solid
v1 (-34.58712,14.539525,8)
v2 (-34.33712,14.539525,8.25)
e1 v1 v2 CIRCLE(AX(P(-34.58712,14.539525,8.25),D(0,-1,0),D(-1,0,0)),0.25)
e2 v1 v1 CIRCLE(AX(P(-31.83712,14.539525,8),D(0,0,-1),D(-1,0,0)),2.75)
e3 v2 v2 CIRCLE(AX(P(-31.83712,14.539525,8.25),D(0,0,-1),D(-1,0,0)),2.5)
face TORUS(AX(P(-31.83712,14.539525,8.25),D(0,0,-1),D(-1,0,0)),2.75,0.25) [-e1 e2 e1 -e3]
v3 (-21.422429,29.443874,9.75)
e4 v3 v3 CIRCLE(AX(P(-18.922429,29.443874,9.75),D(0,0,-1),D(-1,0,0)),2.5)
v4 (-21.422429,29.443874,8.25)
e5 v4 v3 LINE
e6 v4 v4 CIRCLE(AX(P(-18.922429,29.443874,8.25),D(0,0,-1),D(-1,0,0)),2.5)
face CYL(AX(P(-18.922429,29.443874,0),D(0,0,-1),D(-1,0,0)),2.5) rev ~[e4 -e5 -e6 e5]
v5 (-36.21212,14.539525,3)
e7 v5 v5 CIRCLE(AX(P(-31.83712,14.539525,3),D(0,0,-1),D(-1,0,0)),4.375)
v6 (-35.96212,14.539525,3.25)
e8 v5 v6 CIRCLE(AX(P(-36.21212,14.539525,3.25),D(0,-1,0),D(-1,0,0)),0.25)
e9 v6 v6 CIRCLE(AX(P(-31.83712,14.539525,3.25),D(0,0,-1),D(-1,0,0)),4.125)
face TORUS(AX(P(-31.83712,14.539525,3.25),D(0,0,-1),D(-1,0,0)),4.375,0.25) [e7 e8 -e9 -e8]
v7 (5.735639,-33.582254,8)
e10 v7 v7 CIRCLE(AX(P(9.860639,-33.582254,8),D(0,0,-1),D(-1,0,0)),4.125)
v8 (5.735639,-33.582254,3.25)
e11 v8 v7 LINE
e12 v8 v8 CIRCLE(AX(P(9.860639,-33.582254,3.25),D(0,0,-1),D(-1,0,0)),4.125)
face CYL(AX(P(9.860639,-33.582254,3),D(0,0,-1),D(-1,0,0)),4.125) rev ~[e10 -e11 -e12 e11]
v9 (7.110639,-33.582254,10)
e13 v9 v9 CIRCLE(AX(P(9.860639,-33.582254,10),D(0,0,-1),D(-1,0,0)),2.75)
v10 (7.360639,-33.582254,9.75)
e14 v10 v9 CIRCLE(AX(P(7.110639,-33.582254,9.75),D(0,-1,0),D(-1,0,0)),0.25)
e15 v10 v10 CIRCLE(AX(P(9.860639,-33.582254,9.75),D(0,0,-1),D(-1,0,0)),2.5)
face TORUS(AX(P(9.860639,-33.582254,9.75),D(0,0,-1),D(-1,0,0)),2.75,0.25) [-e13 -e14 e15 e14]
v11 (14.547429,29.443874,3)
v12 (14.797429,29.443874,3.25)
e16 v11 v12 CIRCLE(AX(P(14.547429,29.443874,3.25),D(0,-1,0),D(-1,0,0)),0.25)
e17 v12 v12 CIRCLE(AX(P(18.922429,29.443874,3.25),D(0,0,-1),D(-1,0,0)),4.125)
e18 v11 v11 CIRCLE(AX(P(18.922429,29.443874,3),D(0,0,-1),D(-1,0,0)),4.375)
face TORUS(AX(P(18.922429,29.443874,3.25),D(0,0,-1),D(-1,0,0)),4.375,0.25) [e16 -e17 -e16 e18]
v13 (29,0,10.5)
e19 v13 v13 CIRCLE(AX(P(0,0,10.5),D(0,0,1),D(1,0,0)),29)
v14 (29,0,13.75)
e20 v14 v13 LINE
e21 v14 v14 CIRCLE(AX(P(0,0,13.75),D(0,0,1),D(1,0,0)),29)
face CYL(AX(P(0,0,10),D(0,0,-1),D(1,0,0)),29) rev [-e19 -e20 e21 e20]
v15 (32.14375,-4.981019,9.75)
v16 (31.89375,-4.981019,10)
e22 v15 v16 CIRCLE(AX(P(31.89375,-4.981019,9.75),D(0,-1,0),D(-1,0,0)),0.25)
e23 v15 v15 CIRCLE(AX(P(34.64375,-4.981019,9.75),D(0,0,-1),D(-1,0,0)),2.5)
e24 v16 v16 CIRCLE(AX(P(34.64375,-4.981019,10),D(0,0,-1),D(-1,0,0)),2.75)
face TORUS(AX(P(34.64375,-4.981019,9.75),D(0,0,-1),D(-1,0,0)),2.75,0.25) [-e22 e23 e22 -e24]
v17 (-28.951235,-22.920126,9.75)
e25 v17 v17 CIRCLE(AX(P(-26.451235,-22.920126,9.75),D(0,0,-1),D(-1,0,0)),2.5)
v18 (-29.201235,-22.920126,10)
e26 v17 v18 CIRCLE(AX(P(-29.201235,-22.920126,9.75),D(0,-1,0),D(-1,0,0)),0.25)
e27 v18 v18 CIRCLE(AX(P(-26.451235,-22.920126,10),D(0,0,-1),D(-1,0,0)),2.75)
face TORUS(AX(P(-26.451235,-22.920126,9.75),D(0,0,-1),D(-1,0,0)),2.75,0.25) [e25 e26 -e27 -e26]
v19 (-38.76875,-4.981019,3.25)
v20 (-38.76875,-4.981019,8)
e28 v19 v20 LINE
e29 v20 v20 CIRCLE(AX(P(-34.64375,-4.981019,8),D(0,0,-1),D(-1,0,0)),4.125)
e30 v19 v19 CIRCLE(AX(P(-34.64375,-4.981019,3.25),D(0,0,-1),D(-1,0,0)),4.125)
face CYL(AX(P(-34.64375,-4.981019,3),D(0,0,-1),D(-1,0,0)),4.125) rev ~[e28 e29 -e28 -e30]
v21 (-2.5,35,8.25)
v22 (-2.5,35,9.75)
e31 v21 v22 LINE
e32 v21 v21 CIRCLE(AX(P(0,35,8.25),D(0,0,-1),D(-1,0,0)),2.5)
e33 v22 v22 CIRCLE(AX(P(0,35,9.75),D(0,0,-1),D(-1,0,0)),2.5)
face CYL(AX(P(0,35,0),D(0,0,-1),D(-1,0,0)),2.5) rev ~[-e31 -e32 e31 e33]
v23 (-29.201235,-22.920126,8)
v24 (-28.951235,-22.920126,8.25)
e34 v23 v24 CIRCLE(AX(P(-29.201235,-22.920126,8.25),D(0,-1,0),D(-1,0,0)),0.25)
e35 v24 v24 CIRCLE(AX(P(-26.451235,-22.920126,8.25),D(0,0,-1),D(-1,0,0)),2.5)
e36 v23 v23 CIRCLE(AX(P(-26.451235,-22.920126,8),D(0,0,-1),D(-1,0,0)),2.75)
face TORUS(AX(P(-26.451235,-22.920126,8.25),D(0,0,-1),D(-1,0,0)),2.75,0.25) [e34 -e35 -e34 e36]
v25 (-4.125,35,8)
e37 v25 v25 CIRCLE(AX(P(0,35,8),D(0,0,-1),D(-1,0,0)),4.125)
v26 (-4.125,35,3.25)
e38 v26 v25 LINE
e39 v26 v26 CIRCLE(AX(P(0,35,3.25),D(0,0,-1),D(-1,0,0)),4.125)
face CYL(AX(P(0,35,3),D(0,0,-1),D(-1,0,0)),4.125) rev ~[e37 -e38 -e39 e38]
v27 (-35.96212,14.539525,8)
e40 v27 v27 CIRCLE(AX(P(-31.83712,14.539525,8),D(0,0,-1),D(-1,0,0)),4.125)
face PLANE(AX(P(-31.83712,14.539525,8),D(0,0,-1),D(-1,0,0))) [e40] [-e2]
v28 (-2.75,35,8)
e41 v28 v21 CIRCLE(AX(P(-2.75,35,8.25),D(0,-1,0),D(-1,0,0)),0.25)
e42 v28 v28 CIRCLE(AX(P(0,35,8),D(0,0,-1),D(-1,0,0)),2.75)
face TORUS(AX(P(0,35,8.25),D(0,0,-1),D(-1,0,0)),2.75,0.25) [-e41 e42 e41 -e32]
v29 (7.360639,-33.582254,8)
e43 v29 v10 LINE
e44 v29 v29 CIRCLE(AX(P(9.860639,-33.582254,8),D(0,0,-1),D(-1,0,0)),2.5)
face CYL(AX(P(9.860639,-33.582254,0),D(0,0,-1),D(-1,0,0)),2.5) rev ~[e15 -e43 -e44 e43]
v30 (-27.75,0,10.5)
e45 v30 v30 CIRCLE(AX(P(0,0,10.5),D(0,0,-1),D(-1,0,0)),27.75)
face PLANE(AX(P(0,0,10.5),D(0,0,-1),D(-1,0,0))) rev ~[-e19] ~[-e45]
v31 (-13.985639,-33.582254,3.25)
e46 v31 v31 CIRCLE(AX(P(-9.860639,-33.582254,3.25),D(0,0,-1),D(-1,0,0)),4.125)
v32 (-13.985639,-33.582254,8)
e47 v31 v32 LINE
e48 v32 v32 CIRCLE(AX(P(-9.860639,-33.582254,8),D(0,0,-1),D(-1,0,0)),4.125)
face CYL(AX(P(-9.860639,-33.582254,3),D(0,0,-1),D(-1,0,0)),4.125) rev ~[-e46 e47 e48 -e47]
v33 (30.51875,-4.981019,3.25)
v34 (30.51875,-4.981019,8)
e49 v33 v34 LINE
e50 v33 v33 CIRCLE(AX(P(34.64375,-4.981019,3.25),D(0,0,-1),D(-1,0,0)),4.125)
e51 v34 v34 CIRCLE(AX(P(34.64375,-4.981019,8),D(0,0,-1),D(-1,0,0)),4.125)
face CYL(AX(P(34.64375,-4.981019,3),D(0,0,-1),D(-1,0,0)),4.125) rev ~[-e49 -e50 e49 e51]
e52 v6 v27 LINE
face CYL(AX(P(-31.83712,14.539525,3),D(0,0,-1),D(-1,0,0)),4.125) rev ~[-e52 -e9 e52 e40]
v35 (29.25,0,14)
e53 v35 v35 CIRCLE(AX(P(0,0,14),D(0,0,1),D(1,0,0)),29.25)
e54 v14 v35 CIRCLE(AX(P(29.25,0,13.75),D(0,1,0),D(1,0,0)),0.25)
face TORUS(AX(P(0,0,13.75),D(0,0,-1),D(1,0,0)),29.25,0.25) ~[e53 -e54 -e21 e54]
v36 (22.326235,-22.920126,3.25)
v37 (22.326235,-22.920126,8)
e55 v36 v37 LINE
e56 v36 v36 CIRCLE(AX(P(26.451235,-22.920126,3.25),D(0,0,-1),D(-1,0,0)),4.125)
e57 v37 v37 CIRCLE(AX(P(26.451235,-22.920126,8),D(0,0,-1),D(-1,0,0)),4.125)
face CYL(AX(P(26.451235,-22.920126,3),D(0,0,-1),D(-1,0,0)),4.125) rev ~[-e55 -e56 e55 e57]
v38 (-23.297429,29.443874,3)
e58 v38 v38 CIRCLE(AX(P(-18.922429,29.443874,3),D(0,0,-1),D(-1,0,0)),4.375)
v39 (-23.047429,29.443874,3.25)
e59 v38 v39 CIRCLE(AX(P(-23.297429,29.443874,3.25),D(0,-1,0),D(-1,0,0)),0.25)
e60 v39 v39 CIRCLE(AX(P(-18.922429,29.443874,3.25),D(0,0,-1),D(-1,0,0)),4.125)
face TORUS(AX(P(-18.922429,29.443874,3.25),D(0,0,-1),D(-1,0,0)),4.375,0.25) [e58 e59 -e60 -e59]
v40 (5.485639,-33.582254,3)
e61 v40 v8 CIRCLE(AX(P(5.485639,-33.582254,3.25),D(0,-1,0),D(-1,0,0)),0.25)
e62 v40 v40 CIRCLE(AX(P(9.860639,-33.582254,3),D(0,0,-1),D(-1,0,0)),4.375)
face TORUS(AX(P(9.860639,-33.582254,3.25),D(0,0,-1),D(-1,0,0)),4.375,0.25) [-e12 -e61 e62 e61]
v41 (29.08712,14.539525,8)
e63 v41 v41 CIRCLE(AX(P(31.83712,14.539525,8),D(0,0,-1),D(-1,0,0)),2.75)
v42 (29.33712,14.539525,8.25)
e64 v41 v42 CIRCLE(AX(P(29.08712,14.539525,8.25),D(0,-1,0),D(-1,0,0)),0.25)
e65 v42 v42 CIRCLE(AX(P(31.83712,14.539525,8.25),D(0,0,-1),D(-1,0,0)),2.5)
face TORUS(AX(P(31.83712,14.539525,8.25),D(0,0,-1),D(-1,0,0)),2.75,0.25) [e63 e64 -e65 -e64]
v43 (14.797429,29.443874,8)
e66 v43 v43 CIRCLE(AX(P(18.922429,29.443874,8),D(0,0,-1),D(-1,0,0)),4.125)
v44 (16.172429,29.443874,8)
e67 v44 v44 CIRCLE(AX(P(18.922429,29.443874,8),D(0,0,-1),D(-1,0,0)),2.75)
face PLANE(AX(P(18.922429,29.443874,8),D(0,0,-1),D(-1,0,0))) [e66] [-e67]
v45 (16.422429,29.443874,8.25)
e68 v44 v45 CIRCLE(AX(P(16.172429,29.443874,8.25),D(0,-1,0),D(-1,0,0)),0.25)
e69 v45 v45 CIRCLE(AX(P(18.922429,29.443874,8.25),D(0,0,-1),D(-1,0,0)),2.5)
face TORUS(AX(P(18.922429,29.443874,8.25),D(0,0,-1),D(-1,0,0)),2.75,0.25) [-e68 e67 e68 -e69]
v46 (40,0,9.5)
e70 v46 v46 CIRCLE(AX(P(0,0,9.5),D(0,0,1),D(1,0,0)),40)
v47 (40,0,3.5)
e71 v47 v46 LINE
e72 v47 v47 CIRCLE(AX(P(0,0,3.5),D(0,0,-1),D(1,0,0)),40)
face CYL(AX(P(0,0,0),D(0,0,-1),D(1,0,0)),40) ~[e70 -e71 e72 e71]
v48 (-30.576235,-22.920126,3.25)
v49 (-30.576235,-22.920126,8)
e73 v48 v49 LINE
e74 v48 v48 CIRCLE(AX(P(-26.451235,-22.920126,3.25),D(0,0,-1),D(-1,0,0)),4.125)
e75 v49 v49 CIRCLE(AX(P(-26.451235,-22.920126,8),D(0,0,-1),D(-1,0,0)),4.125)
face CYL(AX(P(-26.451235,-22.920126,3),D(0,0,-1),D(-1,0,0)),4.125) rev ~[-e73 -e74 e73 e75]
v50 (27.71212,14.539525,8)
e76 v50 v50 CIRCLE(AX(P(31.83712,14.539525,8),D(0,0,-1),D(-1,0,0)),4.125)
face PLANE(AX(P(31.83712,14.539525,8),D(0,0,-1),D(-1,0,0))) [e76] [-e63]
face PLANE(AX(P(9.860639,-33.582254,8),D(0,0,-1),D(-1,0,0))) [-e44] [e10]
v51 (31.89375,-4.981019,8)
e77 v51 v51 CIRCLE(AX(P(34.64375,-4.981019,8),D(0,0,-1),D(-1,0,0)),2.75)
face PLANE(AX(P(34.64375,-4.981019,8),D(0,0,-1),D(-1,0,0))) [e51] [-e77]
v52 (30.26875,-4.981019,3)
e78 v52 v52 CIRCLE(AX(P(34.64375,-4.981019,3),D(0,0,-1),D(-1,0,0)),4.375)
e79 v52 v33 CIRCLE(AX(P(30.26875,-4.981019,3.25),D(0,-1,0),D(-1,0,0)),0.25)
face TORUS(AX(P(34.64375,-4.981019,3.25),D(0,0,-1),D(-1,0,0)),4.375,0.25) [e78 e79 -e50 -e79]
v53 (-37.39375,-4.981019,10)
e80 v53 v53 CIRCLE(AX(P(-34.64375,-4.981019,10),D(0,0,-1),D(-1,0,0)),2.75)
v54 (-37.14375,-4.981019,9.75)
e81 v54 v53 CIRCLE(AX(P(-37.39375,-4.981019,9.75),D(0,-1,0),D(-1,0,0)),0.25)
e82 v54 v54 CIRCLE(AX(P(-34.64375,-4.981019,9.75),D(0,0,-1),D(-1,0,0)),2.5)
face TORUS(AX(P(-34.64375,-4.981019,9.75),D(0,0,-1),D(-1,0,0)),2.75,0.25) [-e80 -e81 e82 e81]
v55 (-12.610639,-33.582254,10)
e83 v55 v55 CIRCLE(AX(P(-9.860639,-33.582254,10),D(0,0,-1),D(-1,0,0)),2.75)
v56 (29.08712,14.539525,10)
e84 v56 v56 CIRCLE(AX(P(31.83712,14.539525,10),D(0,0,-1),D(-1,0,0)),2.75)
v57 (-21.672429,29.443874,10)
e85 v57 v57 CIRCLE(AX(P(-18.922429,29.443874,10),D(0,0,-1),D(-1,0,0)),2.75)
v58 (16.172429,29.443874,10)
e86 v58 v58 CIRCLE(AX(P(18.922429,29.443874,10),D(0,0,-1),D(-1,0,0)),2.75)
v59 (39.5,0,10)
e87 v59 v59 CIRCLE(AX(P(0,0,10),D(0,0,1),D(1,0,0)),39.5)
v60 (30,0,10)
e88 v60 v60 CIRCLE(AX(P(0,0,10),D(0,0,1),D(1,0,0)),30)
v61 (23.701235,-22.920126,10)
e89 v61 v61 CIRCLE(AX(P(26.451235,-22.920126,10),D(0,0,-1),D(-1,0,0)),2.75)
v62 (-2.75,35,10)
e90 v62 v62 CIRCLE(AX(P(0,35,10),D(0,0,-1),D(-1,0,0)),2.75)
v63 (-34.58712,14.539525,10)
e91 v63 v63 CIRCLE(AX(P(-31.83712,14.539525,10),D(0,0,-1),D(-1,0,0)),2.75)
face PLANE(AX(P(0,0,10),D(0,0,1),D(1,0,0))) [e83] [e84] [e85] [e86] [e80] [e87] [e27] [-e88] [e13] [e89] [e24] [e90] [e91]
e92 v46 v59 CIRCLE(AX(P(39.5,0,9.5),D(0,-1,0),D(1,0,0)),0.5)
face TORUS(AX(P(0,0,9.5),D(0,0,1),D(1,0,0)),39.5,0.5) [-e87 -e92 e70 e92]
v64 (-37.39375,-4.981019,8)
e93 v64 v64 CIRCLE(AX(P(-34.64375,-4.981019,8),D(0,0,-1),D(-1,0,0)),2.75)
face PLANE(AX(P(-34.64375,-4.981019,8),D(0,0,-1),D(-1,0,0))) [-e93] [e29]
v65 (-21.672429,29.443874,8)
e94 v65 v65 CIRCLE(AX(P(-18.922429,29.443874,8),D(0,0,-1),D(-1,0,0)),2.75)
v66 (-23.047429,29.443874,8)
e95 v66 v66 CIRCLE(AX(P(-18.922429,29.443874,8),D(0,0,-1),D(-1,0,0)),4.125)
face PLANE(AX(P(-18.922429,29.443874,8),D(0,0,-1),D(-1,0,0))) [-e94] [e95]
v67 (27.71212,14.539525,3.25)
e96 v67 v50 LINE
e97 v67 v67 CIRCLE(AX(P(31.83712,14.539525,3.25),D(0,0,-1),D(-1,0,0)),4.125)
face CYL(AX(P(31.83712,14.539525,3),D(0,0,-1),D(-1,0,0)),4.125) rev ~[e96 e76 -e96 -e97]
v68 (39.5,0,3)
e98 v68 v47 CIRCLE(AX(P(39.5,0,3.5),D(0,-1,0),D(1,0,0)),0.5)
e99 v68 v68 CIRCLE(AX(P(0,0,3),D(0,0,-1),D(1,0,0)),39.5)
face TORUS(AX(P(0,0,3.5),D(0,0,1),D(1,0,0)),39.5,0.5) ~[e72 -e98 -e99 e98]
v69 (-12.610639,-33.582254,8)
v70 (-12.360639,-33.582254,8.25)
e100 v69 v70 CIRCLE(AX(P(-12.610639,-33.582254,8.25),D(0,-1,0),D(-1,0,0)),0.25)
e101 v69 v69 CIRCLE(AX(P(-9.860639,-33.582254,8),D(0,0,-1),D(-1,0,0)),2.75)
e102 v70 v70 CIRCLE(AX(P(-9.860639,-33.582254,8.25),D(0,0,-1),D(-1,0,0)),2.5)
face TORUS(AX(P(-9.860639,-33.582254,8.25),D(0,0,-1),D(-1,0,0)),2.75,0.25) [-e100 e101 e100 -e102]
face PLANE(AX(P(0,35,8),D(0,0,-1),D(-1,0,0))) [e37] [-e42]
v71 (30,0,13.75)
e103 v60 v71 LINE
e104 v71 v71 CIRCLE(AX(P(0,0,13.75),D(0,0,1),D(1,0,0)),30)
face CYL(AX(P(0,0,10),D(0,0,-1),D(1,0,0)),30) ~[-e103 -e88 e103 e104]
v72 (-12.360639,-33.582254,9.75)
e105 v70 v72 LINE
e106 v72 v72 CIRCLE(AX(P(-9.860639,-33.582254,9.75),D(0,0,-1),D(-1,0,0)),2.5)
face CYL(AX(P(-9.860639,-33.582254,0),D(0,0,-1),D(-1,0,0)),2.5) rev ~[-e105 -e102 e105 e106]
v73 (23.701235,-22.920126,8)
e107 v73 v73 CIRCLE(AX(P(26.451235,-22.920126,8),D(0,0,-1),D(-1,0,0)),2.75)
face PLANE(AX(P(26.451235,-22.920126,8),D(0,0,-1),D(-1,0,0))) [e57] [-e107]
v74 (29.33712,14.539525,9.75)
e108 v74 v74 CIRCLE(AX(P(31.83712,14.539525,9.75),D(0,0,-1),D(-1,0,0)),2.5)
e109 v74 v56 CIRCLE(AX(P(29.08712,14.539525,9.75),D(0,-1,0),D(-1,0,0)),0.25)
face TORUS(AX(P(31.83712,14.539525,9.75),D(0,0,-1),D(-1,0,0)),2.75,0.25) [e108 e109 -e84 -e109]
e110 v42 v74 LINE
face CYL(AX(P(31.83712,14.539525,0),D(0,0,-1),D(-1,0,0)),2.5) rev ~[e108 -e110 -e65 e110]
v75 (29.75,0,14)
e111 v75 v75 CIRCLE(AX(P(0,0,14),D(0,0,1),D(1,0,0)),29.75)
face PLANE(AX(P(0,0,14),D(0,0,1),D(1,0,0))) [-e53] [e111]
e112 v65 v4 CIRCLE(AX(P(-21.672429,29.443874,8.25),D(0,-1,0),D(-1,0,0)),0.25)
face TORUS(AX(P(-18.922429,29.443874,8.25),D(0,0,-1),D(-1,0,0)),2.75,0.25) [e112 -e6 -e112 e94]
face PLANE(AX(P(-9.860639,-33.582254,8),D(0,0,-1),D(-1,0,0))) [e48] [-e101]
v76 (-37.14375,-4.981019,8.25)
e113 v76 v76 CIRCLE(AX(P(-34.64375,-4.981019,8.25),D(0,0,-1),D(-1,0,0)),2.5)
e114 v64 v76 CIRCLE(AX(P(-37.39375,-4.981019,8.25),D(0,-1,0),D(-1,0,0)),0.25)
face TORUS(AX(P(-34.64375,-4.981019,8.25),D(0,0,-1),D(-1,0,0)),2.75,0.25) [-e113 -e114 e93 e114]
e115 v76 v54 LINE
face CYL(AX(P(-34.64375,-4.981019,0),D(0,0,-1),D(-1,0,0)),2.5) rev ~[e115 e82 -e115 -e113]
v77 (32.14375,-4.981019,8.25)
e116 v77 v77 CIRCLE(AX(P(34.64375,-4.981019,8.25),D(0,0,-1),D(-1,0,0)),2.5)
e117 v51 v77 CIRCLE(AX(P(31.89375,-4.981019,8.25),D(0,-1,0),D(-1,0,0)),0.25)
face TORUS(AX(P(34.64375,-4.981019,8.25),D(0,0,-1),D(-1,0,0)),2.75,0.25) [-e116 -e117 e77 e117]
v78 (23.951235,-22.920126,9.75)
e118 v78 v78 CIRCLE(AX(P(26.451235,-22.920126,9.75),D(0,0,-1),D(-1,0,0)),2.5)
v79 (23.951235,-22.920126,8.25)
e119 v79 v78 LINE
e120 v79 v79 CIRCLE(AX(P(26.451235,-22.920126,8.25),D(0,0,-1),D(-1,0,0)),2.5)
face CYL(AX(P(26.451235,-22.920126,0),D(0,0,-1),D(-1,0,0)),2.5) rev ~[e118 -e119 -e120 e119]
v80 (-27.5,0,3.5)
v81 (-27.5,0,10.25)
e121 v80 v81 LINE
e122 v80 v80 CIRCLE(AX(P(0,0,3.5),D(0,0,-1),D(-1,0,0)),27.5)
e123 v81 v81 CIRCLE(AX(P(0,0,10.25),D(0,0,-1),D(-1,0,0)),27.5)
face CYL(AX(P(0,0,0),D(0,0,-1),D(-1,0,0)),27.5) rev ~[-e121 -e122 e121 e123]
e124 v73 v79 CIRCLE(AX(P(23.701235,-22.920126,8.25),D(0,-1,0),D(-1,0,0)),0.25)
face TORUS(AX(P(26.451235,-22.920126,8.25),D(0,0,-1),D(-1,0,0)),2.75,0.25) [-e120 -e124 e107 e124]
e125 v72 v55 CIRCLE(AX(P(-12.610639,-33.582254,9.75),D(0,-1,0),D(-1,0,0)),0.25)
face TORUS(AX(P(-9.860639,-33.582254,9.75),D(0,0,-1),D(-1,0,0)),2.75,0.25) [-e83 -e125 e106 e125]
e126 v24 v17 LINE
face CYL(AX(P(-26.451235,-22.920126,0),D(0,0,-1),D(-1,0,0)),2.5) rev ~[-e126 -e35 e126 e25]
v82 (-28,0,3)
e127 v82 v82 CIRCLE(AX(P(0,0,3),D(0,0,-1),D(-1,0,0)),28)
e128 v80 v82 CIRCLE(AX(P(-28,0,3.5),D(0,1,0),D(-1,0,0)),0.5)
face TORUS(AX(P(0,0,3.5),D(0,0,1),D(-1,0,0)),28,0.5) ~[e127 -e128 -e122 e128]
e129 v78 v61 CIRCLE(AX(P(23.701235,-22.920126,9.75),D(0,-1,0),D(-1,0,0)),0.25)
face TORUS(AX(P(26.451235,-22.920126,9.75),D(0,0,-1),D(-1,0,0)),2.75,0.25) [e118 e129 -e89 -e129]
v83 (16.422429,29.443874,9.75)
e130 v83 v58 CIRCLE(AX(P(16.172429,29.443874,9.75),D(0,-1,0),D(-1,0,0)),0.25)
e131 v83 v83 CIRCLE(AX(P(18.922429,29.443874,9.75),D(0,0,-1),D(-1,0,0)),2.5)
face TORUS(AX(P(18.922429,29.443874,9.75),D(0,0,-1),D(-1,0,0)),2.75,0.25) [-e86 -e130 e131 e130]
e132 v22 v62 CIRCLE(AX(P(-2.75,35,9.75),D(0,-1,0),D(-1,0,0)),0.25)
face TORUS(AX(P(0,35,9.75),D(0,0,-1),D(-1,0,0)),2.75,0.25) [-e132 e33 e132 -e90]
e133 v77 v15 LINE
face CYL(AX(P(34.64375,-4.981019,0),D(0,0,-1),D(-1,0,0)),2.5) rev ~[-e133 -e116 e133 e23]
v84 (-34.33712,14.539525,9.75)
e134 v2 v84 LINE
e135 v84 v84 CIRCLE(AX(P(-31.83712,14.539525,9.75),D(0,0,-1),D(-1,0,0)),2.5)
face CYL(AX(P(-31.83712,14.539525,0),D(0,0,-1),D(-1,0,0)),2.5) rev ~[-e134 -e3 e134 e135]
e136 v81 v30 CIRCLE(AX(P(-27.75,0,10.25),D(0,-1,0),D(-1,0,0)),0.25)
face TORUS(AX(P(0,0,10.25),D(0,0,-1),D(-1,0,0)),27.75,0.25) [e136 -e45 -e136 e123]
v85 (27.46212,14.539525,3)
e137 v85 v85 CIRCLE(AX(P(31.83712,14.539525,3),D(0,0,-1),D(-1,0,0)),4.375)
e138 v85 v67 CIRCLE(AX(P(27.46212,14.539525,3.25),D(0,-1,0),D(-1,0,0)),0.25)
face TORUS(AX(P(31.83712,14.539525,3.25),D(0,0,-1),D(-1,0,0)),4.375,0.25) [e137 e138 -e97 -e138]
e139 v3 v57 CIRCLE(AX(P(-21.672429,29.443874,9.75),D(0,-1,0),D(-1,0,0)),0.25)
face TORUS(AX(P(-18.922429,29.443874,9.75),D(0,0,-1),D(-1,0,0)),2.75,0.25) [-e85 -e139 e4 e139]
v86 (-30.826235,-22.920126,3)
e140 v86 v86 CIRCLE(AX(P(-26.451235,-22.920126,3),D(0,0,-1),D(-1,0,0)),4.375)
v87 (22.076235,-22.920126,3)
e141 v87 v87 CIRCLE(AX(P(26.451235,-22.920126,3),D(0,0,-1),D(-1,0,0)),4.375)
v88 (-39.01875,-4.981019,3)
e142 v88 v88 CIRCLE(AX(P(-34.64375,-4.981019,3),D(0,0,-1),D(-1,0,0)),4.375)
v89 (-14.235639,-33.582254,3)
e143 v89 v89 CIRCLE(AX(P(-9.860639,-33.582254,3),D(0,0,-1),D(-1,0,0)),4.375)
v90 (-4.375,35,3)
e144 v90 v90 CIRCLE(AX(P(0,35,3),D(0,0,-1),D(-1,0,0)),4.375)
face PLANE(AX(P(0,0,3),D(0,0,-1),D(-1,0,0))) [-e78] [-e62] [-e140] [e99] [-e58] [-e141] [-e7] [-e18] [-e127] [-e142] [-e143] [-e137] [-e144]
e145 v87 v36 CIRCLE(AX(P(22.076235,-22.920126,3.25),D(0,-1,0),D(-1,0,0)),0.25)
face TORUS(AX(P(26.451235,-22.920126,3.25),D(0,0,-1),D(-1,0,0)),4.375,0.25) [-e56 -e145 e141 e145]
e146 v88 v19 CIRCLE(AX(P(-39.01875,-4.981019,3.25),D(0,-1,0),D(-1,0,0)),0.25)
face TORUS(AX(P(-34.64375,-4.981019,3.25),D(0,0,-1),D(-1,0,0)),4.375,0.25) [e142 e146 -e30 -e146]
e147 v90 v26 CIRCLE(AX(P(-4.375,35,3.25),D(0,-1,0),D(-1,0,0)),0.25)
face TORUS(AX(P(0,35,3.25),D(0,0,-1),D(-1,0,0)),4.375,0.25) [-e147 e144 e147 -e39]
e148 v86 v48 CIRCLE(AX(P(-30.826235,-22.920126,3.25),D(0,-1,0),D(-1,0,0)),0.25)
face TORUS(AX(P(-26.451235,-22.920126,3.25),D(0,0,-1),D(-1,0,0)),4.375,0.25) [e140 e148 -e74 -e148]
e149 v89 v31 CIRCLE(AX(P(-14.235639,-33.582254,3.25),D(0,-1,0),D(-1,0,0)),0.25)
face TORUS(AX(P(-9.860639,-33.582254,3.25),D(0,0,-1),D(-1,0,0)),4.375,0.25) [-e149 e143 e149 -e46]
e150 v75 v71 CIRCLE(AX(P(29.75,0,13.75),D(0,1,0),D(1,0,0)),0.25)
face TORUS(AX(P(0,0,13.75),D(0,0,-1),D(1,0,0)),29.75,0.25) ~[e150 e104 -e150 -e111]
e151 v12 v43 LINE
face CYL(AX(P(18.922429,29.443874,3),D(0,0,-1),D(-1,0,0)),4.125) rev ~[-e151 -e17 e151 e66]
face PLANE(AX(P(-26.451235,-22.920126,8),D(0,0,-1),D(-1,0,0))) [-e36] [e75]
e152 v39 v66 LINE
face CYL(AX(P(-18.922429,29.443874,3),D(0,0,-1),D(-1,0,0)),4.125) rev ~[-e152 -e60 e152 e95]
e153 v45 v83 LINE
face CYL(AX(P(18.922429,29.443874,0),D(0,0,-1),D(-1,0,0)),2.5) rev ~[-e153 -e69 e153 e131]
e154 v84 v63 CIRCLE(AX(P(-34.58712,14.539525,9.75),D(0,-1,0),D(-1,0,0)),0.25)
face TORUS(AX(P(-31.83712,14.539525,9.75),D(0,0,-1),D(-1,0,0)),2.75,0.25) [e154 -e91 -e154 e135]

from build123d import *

# Parameters (mm, degrees)
SKETCH1_R           = 40
SKETCH1_R_2         = 29
BOSS_EXTRUDE1_DEPTH = 10
SKETCH2_R           = 30
SKETCH2_R_2         = 29
BOSS_EXTRUDE2_DEPTH = 4
SKETCH3_R           = 29
SKETCH3_R_2         = 27.5
BOSS_EXTRUDE3_DEPTH = 10.5
SKETCH4_R           = 2.5
CUT_EXTRUDE1_DEPTH  = 15
SKETCH5_R           = 40
SKETCH5_R_2         = 27.5
CUT_EXTRUDE2_DEPTH  = 3
SKETCH6_R           = 4.125
CUT_EXTRUDE3_DEPTH  = 5
FILLET1_R           = 0.5
FILLET2_R           = 0.25


with BuildPart() as part:
    # Sketch1 → Boss-Extrude1 (new body)
    with BuildSketch(Plane.XY):
        Circle(SKETCH1_R)
        Circle(SKETCH1_R_2, mode=Mode.SUBTRACT)
    extrude(amount=BOSS_EXTRUDE1_DEPTH)

    # Sketch2 → Boss-Extrude2 (add)
    with BuildSketch(Plane.XY.offset(10)):
        Circle(SKETCH2_R)
        Circle(SKETCH2_R_2, mode=Mode.SUBTRACT)
    extrude(amount=BOSS_EXTRUDE2_DEPTH)

    # Sketch3 → Boss-Extrude3 (add)
    with BuildSketch(Plane(origin=(0, 0, 0), x_dir=(-1, 0, 0), z_dir=(0, 0, -1))):
        Circle(SKETCH3_R)
        Circle(SKETCH3_R_2, mode=Mode.SUBTRACT)
    extrude(amount=-BOSS_EXTRUDE3_DEPTH)

    # Sketch4 → Cut-Extrude1 (cut, through all)
    with BuildSketch(Plane(origin=(0, 0, 0), x_dir=(-1, 0, 0), z_dir=(0, 0, -1))):
        with Locations((0, 35)):
            Circle(SKETCH4_R)
        with Locations((18.922428611, 29.443873649)):
            Circle(SKETCH4_R)
        with Locations((31.837119837, 14.539525455)):
            Circle(SKETCH4_R)
        with Locations((34.643750466, -4.98101934)):
            Circle(SKETCH4_R)
        with Locations((26.451235102, -22.920125688)):
            Circle(SKETCH4_R)
        with Locations((9.860639489, -33.582254077)):
            Circle(SKETCH4_R)
        with Locations((-9.860639489, -33.582254077)):
            Circle(SKETCH4_R)
        with Locations((-26.451235102, -22.920125688)):
            Circle(SKETCH4_R)
        with Locations((-34.643750466, -4.98101934)):
            Circle(SKETCH4_R)
        with Locations((-31.837119837, 14.539525455)):
            Circle(SKETCH4_R)
        with Locations((-18.922428611, 29.443873649)):
            Circle(SKETCH4_R)
    extrude(amount=-CUT_EXTRUDE1_DEPTH, mode=Mode.SUBTRACT)

    # Sketch5 → Cut-Extrude2 (cut)
    with BuildSketch(Plane(origin=(0, 0, 0), x_dir=(-1, 0, 0), z_dir=(0, 0, -1))):
        Circle(SKETCH5_R)
        Circle(SKETCH5_R_2, mode=Mode.SUBTRACT)
    extrude(amount=-CUT_EXTRUDE2_DEPTH, mode=Mode.SUBTRACT)

    # Sketch6 → Cut-Extrude3 (cut)
    with BuildSketch(Plane(origin=(0, 0, 3), x_dir=(-1, 0, 0), z_dir=(0, 0, -1))):
        with Locations((0, 35)):
            Circle(SKETCH6_R)
        with Locations((18.922428611, 29.443873649)):
            Circle(SKETCH6_R)
        with Locations((31.837119837, 14.539525455)):
            Circle(SKETCH6_R)
        with Locations((34.643750466, -4.98101934)):
            Circle(SKETCH6_R)
        with Locations((26.451235102, -22.920125688)):
            Circle(SKETCH6_R)
        with Locations((9.860639489, -33.582254077)):
            Circle(SKETCH6_R)
        with Locations((-9.860639489, -33.582254077)):
            Circle(SKETCH6_R)
        with Locations((-26.451235102, -22.920125688)):
            Circle(SKETCH6_R)
        with Locations((-34.643750466, -4.98101934)):
            Circle(SKETCH6_R)
        with Locations((-31.837119837, 14.539525455)):
            Circle(SKETCH6_R)
        with Locations((-18.922428611, 29.443873649)):
            Circle(SKETCH6_R)
    extrude(amount=-CUT_EXTRUDE3_DEPTH, mode=Mode.SUBTRACT)

    # Fillet1
    fillet1_edges = [part.edges().sort_by_distance(p)[0] for p in [
        (-40, 0, 10),
        (27.5, 0, 3),
        (-40, 0, 3),
    ]]
    fillet(fillet1_edges, radius=FILLET1_R)

    # Fillet2
    fillet2_edges = [part.edges().sort_by_distance(p)[0] for p in [
        (-30, 0, 14),
        (-29, 0, 14),
        (-14.797428611, 29.443873649, 3),
        (-16.422428611, 29.443873649, 8),
        (-27.712119837, 14.539525455, 3),
        (-29.337119837, 14.539525455, 8),
        (-30.518750466, -4.98101934, 3),
        (-32.143750466, -4.98101934, 8),
        (-22.326235102, -22.920125688, 3),
        (-23.951235102, -22.920125688, 8),
        (-5.735639489, -33.582254077, 3),
        (-7.360639489, -33.582254077, 8),
        (13.985639489, -33.582254077, 3),
        (30.576235102, -22.920125688, 3),
        (28.951235102, -22.920125688, 8),
        (38.768750466, -4.98101934, 3),
        (37.143750466, -4.98101934, 8),
        (35.962119837, 14.539525455, 3),
        (34.337119837, 14.539525455, 8),
        (23.047428611, 29.443873649, 3),
        (21.422428611, 29.443873649, 8),
        (4.125, 35, 3),
        (2.5, 35, 8),
        (27.5, 0, 10.5),
        (2.5, 35, 10),
        (21.422428611, 29.443873649, 10),
        (34.337119837, 14.539525455, 10),
        (37.143750466, -4.98101934, 10),
        (28.951235102, -22.920125688, 10),
        (12.360639489, -33.582254077, 10),
        (-7.360639489, -33.582254077, 10),
        (-23.951235102, -22.920125688, 10),
        (-32.143750466, -4.98101934, 10),
        (-29.337119837, 14.539525455, 10),
        (-16.422428611, 29.443873649, 10),
    ]]
    fillet(fillet2_edges, radius=FILLET2_R)


solid = part.part
